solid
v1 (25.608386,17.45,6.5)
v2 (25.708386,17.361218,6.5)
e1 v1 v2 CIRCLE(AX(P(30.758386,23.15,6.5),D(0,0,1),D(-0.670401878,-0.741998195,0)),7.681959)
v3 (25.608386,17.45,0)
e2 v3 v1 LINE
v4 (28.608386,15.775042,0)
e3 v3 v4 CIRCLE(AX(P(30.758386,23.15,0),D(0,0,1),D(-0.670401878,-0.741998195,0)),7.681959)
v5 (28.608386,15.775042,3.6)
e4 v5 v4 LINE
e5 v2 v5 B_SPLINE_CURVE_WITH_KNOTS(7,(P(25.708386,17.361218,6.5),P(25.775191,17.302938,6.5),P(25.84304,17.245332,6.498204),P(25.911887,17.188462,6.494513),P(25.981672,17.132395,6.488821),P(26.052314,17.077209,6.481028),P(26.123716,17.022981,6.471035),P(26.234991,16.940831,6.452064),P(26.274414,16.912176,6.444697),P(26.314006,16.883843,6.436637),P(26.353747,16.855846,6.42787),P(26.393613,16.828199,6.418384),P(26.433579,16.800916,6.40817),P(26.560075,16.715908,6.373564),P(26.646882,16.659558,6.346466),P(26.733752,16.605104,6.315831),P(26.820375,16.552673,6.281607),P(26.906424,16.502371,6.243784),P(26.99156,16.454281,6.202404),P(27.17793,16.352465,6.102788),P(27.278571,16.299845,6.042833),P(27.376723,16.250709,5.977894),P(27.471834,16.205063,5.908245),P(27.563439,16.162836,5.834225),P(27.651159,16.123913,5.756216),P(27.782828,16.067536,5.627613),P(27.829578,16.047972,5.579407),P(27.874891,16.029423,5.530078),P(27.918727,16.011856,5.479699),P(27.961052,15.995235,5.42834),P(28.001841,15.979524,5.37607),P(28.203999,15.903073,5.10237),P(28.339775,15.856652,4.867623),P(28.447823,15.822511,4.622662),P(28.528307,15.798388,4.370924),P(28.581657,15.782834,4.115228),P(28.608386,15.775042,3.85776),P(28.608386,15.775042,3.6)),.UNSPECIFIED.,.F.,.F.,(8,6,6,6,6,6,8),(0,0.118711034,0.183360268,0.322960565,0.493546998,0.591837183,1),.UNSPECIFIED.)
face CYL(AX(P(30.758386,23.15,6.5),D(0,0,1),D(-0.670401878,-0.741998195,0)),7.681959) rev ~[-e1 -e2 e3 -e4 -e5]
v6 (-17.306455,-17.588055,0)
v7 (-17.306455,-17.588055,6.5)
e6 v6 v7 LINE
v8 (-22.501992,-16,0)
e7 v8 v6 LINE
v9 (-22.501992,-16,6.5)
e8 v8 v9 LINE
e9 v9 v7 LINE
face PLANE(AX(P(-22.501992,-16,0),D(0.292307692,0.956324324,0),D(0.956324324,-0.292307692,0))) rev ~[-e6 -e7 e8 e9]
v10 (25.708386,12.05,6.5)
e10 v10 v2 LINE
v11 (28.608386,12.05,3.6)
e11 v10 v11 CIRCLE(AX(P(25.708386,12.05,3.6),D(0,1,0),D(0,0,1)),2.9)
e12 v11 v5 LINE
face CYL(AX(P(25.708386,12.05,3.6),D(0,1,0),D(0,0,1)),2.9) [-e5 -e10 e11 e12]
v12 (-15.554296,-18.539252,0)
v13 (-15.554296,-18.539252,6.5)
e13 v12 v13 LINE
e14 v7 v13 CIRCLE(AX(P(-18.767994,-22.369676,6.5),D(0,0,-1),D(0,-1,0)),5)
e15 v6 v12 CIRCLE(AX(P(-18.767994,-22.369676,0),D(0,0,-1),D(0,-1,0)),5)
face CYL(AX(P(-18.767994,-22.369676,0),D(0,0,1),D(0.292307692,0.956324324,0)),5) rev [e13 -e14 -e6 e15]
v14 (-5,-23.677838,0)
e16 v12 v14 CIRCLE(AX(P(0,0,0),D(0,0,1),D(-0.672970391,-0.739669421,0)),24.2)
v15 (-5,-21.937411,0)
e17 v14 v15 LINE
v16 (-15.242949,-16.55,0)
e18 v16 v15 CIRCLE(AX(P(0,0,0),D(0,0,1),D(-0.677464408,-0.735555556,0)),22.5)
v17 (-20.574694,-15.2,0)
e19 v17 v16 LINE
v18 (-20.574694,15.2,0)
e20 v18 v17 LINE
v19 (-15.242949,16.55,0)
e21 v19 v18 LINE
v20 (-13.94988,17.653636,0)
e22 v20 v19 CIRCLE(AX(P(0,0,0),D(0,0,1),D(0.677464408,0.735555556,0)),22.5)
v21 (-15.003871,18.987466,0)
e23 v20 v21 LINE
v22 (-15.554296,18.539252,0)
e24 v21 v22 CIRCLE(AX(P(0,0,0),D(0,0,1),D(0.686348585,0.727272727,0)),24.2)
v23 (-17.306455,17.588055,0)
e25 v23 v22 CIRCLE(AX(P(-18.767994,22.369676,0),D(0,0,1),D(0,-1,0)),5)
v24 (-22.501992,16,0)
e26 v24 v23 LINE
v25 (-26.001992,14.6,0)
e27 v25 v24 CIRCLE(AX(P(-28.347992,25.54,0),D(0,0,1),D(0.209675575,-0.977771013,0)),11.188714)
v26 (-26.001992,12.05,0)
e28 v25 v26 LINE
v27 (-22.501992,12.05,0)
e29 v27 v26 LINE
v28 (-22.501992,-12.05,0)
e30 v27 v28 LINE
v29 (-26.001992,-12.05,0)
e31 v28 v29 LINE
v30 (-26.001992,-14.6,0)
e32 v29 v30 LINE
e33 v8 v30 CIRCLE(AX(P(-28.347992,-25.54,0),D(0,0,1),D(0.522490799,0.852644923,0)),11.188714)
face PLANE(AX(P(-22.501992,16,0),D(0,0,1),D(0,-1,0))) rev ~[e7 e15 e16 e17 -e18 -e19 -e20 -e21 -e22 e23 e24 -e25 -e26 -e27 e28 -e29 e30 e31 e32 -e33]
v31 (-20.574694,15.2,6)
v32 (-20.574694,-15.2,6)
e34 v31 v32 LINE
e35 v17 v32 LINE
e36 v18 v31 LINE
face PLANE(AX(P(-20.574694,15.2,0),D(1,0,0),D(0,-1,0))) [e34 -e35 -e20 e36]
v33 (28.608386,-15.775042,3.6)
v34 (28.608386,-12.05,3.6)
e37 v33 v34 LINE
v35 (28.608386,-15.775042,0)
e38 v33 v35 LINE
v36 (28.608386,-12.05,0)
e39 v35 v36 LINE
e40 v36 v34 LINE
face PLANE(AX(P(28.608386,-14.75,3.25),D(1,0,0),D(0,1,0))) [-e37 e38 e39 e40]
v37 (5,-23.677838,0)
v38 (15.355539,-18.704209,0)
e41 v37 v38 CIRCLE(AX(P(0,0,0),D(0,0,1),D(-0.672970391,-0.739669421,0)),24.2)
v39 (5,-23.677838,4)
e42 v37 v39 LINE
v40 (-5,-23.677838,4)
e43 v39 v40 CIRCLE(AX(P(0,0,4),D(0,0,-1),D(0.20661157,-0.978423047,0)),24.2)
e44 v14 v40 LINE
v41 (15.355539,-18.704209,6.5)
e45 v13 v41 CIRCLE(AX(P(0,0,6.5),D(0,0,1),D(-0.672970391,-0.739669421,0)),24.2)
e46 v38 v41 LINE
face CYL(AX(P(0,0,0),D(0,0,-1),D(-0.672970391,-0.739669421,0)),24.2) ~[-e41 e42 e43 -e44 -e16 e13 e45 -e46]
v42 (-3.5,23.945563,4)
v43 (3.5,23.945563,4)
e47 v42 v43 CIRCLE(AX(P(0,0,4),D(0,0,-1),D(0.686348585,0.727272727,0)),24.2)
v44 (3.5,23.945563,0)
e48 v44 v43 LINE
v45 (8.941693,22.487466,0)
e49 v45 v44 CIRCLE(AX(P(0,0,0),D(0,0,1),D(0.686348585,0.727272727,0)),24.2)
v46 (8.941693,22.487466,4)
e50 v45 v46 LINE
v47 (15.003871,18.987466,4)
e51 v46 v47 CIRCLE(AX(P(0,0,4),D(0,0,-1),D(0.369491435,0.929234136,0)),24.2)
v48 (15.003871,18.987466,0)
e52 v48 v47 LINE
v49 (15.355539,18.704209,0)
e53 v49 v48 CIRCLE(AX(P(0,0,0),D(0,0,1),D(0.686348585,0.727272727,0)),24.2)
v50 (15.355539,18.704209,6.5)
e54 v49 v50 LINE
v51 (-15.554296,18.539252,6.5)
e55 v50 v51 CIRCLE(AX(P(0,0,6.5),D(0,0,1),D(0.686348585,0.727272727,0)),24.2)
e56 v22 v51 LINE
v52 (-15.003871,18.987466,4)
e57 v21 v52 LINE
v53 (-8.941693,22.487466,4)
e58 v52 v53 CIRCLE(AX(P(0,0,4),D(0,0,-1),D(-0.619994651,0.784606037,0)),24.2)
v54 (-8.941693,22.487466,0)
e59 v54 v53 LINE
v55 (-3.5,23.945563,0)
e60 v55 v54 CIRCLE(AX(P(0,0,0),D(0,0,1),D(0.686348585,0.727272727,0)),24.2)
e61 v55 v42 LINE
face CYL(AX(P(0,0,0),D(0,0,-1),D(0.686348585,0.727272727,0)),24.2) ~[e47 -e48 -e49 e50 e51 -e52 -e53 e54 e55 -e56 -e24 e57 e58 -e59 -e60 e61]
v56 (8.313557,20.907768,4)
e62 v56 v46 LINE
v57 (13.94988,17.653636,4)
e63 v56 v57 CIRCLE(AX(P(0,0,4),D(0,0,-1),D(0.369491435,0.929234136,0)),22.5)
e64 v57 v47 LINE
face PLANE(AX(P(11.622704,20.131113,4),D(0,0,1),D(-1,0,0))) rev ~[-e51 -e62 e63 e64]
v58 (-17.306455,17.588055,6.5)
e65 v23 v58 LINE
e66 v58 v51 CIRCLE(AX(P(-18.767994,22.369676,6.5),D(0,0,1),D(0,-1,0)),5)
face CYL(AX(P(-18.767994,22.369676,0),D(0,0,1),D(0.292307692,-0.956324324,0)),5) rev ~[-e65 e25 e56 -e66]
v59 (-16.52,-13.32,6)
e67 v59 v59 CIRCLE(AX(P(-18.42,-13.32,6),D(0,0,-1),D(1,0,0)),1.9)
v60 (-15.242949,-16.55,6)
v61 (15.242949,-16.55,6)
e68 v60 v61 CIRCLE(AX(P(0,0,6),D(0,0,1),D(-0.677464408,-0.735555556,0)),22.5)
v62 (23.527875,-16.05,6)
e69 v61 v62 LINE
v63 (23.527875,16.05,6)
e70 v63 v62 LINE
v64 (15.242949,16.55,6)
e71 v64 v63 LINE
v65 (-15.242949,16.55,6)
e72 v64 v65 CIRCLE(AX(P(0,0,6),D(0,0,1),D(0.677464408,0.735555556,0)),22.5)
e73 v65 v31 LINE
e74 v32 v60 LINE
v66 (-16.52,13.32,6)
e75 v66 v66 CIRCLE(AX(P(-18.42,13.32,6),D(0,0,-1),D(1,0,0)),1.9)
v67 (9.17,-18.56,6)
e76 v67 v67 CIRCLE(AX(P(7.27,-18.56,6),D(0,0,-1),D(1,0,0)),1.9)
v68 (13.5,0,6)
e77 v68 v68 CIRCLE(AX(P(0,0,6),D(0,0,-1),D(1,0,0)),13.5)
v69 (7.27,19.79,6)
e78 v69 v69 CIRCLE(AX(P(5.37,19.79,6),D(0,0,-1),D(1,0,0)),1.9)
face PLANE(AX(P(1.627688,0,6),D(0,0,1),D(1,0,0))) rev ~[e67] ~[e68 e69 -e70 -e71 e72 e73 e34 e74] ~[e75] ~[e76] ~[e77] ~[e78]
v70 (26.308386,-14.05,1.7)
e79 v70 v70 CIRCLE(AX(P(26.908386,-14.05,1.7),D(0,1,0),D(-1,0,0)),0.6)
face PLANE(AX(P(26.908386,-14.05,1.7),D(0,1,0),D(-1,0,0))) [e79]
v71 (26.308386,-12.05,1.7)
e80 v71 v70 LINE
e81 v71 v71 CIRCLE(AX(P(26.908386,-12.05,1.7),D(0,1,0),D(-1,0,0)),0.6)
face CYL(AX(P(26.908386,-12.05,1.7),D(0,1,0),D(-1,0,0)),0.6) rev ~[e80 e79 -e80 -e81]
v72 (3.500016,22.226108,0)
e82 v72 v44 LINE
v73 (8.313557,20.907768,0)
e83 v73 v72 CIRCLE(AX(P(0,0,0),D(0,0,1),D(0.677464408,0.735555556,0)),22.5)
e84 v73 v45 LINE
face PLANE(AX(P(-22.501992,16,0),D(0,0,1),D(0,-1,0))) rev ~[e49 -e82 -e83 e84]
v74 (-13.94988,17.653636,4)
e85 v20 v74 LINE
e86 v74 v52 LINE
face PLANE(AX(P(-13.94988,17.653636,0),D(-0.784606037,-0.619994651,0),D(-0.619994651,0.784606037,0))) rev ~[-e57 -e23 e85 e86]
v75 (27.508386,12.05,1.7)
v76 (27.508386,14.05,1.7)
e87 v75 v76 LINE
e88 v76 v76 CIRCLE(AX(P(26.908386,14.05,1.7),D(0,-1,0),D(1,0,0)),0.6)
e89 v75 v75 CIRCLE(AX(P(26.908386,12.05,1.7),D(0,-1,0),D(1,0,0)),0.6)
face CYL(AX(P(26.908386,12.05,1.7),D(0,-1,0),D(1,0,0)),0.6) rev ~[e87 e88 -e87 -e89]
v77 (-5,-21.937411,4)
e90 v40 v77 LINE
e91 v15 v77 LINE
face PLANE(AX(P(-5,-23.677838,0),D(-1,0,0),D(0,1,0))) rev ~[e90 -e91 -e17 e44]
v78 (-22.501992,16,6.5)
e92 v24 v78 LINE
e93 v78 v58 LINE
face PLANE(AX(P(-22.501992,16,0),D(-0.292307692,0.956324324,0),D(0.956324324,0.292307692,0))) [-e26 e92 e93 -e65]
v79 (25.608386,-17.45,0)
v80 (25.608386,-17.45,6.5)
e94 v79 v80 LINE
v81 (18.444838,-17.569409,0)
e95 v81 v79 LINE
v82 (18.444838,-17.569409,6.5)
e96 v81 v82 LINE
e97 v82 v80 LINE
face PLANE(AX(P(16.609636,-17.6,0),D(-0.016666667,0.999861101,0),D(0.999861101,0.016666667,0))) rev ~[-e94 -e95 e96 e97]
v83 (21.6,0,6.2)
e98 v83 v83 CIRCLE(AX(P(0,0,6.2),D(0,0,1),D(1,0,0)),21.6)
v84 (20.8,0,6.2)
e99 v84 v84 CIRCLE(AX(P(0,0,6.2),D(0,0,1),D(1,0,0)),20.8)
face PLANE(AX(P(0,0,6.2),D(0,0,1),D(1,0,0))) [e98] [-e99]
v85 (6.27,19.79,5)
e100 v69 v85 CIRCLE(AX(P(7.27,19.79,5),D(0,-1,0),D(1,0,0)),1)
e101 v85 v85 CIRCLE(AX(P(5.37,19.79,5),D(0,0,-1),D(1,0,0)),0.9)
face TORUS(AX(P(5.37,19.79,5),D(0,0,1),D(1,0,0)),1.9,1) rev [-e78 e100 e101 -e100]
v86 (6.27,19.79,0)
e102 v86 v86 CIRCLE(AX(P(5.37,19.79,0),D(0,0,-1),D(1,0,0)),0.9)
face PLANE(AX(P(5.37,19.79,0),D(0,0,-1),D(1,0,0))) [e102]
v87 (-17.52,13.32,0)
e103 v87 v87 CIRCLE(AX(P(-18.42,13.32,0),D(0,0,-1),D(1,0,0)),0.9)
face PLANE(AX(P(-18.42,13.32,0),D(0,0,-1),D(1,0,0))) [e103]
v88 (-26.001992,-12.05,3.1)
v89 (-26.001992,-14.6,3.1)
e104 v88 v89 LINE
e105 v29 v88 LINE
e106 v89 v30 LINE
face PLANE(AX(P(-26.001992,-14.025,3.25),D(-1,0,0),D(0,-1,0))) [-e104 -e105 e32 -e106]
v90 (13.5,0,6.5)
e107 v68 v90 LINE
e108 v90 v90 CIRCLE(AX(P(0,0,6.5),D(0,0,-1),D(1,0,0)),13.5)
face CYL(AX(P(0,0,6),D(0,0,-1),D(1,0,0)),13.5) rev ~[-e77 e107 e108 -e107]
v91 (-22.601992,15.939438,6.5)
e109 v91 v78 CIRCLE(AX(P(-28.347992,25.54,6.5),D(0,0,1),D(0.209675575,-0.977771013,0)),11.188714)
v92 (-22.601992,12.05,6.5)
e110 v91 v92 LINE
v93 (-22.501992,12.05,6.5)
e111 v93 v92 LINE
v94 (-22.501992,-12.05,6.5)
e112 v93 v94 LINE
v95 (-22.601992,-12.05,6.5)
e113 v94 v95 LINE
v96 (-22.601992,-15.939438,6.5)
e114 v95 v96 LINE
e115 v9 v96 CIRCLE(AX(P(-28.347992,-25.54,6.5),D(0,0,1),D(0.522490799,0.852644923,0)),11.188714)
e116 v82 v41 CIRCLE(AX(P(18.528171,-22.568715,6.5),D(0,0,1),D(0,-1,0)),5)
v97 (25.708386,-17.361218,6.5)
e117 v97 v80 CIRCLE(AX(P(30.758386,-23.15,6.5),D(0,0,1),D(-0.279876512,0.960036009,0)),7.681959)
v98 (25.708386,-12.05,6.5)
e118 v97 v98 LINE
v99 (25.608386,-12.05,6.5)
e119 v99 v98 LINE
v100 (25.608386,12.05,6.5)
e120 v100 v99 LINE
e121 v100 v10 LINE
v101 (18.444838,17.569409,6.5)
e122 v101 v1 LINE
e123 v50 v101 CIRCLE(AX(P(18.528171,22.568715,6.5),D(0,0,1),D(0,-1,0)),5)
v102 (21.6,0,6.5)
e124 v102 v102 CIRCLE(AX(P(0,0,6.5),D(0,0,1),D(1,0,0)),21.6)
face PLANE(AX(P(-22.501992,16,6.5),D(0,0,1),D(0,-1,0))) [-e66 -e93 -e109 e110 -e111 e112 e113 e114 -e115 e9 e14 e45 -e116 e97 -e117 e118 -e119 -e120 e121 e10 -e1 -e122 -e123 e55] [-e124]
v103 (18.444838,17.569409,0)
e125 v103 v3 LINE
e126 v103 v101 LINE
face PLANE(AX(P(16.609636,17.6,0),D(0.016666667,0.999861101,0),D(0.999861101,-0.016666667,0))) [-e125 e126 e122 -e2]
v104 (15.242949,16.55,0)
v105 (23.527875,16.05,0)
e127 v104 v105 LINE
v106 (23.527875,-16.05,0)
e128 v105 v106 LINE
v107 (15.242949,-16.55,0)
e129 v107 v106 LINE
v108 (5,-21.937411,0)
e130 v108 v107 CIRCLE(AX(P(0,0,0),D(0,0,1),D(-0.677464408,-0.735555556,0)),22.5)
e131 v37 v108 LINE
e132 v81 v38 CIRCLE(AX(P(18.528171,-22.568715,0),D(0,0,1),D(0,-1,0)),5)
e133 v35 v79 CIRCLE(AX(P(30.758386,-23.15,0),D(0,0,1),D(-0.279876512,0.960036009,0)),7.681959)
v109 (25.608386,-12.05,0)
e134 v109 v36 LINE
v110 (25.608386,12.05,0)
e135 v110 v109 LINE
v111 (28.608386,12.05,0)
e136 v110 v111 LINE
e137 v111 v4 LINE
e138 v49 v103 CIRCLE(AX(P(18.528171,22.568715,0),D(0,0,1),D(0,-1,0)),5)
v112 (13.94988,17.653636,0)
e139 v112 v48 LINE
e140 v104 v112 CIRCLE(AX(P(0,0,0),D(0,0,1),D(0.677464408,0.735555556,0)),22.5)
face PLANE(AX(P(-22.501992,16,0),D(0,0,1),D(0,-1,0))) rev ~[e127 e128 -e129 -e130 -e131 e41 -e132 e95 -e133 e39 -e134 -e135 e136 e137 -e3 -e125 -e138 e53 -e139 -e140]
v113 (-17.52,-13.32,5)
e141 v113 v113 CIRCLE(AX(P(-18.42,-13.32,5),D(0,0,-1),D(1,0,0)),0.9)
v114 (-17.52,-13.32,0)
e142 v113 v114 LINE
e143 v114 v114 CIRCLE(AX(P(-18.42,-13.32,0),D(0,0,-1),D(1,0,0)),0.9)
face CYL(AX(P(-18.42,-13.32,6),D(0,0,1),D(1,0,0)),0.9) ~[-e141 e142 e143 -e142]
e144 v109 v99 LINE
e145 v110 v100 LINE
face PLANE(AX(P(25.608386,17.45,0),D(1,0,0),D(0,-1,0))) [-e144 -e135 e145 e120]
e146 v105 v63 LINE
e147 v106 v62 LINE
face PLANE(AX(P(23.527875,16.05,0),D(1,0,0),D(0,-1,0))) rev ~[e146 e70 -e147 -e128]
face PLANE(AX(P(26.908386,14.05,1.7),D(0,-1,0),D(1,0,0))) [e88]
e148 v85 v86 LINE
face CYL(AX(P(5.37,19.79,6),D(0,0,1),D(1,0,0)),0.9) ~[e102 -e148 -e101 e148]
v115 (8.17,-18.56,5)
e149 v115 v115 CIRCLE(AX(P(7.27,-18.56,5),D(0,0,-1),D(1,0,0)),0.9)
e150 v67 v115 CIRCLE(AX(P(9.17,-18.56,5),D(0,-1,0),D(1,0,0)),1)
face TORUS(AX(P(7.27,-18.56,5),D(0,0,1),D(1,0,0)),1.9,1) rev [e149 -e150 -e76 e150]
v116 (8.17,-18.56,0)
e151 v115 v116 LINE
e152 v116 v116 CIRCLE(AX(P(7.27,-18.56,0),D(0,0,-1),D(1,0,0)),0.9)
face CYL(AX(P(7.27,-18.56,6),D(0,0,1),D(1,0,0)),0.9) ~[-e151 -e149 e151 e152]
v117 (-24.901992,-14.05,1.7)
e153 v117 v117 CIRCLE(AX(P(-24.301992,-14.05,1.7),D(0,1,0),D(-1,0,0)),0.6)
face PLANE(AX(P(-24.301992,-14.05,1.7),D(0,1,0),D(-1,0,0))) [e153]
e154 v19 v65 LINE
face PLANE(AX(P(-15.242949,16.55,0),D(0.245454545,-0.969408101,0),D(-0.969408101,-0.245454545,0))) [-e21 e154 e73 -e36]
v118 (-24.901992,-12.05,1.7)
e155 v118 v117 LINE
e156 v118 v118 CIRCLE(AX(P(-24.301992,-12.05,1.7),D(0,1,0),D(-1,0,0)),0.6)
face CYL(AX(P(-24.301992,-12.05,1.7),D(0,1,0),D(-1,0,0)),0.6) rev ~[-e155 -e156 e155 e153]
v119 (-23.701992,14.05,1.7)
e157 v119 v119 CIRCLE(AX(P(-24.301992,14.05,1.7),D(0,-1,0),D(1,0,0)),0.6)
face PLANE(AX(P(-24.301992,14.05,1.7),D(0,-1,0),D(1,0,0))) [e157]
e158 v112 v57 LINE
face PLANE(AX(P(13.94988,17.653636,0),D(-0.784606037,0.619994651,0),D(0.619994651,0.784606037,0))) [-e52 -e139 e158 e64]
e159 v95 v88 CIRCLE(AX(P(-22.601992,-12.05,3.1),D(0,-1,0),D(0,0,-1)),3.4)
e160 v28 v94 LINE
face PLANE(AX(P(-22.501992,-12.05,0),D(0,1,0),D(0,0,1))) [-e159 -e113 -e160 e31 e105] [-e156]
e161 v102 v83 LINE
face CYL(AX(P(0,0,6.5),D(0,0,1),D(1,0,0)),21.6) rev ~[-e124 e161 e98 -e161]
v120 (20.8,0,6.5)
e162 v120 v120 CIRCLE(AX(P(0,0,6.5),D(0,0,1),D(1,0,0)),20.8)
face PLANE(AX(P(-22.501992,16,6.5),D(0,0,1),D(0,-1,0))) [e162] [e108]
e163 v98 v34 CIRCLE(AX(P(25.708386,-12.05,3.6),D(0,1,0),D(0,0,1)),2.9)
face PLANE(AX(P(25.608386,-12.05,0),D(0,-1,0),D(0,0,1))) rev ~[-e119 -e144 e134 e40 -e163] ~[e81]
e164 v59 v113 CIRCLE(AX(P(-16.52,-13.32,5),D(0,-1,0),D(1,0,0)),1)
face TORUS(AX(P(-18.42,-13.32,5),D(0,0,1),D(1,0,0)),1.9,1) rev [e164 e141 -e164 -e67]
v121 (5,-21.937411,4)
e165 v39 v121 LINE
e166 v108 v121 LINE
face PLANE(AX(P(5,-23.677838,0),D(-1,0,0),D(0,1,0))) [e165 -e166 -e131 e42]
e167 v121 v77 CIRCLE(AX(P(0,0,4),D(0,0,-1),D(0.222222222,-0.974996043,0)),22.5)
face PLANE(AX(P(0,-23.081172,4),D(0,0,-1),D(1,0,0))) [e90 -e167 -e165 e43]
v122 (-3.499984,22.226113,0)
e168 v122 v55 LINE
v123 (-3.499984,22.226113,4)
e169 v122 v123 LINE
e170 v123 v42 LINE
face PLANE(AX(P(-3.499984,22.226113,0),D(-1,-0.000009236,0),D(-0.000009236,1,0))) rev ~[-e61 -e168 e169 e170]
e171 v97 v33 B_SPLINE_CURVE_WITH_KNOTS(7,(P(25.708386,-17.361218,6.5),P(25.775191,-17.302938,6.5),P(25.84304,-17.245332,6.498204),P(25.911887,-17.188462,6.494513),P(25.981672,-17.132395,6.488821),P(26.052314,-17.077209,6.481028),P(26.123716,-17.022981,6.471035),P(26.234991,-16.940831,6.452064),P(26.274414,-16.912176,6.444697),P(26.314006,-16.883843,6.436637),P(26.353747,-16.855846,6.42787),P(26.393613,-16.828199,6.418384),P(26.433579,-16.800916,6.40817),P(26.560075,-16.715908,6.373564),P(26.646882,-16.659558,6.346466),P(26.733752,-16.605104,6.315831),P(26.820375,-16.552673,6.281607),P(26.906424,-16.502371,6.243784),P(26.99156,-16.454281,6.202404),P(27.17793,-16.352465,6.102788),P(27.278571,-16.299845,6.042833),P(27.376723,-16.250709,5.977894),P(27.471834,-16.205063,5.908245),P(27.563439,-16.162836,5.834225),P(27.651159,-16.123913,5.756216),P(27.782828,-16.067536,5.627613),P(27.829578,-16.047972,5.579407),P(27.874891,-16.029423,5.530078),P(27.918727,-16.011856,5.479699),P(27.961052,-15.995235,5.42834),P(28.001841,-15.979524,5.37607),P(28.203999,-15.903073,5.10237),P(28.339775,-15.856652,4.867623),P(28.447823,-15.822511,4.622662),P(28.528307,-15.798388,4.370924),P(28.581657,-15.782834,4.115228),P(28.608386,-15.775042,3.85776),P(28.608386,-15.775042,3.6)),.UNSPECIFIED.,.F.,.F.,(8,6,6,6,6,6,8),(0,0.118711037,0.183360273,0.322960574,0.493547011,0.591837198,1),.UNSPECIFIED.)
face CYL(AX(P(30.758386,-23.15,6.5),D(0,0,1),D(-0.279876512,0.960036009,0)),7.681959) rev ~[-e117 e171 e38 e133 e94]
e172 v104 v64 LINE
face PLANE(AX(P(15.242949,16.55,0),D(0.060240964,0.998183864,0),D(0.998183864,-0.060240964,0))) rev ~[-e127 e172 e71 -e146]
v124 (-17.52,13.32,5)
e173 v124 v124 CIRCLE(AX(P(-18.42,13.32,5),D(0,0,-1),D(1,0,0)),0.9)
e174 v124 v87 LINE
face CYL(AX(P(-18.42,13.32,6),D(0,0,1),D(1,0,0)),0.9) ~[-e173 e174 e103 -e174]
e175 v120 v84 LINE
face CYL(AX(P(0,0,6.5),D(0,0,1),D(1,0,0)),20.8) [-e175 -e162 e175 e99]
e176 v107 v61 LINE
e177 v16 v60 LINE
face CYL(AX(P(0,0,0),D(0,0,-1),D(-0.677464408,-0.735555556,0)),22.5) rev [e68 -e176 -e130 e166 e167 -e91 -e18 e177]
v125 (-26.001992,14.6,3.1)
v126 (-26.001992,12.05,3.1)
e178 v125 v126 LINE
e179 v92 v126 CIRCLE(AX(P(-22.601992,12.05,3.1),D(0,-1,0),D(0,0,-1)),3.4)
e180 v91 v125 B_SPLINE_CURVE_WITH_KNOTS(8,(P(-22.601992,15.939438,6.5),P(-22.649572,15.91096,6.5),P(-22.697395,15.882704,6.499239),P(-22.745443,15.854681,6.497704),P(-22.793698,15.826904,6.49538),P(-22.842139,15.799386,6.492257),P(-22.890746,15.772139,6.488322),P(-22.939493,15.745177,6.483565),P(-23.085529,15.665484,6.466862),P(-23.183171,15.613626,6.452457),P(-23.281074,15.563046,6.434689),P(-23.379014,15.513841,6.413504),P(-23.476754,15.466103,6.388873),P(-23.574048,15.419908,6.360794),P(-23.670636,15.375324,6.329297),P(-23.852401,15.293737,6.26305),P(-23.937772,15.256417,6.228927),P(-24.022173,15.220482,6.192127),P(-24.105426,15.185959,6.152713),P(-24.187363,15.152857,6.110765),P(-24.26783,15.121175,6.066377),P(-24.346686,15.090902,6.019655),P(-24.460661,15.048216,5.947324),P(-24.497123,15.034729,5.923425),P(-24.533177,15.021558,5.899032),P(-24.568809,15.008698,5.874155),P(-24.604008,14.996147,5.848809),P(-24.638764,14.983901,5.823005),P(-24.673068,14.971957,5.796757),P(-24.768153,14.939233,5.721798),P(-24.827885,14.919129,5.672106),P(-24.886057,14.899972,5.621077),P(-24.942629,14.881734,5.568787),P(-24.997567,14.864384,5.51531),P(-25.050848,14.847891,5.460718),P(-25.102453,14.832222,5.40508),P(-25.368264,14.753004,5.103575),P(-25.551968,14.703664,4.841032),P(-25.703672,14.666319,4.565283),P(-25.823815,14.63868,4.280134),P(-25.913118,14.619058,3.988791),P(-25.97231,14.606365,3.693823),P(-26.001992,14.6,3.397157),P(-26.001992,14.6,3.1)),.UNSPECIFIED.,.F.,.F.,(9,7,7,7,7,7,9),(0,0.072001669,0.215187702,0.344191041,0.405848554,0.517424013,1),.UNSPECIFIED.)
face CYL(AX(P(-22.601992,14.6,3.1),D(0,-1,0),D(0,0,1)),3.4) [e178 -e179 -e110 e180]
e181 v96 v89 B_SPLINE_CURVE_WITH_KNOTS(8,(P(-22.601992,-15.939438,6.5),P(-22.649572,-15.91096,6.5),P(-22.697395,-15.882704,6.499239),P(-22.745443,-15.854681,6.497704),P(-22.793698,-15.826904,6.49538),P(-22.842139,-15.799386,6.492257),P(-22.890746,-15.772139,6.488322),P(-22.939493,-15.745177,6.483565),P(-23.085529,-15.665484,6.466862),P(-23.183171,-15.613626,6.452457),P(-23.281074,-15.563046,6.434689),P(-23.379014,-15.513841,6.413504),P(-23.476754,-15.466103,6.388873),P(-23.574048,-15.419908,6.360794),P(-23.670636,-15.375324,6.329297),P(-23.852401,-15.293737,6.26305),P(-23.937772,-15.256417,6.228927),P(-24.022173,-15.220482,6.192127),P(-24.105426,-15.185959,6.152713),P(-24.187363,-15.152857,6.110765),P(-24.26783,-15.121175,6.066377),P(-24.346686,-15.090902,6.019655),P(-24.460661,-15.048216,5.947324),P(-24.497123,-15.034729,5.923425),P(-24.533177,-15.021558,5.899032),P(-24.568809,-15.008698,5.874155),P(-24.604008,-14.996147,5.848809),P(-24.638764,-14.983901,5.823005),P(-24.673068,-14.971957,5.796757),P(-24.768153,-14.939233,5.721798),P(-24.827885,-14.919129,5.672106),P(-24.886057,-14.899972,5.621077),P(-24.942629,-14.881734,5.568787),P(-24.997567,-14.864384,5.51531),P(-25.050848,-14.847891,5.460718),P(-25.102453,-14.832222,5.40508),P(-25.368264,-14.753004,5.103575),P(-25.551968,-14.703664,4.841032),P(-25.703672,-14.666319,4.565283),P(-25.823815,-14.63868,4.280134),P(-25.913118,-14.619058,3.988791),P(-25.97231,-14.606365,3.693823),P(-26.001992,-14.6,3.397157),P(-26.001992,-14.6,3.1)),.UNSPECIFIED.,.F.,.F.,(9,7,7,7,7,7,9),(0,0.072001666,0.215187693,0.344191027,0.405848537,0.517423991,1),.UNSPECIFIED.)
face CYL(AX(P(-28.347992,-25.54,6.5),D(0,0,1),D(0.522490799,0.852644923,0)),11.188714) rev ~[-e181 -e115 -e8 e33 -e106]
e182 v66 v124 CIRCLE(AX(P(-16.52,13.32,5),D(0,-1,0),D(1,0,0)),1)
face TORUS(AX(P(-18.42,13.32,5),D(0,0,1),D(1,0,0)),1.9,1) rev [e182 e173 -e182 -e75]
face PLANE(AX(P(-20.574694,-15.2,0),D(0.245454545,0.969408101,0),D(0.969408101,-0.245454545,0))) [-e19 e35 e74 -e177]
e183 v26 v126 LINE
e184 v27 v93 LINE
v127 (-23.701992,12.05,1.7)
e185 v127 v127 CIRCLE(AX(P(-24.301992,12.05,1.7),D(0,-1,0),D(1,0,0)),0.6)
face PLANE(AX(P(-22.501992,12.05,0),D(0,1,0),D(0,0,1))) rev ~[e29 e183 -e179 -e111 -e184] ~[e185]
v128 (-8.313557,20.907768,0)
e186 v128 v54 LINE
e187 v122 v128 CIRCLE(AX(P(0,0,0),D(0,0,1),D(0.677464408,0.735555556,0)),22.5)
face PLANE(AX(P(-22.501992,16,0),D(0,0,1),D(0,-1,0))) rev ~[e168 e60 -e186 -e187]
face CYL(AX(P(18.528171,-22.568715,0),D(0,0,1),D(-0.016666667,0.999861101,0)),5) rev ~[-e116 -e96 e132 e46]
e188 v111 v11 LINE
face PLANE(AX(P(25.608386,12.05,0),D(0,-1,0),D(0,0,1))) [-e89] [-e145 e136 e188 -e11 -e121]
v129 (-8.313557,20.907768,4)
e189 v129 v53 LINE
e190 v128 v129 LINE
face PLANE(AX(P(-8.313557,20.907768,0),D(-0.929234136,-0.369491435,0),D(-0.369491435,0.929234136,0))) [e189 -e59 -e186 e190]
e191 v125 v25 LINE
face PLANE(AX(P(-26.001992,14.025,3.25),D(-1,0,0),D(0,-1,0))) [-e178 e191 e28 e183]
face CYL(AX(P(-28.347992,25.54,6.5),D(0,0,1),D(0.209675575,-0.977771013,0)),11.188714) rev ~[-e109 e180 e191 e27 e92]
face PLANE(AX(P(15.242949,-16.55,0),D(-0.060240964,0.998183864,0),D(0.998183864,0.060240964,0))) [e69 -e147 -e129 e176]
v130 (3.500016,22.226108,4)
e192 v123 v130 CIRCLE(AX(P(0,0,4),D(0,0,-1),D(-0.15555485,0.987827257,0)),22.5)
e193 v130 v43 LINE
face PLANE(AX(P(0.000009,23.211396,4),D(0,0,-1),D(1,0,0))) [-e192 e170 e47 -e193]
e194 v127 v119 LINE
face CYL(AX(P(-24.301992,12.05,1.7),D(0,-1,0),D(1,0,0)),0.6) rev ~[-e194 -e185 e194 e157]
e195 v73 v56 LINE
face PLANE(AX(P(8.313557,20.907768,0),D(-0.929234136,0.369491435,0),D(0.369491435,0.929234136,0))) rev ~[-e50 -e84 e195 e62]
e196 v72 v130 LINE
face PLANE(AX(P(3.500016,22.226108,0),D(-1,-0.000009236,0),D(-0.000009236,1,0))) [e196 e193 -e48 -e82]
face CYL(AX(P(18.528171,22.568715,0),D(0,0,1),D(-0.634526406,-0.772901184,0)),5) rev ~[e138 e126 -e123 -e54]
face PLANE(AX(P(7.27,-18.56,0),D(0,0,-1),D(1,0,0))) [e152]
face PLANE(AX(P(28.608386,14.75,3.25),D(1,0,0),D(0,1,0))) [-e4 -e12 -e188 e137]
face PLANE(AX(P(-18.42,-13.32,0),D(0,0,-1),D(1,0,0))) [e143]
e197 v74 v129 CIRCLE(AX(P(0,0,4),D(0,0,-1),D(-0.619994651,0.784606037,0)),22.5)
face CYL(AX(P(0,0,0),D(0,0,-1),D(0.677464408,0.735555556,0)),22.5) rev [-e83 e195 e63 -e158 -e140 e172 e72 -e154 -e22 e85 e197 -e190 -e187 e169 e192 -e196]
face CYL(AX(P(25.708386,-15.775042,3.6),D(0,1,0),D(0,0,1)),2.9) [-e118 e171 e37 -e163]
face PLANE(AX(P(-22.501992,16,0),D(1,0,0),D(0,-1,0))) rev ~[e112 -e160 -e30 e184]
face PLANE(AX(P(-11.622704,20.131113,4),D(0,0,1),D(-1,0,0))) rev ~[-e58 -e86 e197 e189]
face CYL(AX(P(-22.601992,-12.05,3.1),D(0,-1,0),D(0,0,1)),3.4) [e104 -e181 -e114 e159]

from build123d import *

# Parameters (mm, degrees)
PAD_DEPTH       = 6.5
POCKET_DEPTH    = 6
SKETCH002_R     = 13.5
POCKET001_DEPTH = 1
SKETCH003_W     = 5.4
SKETCH003_H     = 6.5
PAD001_DEPTH    = 3
POCKET002_DEPTH = 10
SKETCH008_R     = 0.6
POCKET003_DEPTH = 2
SKETCH009_R     = 0.6
POCKET004_DEPTH = 2
FILLET_R        = 2.9
FILLET001_R     = 2.9
FILLET002_R     = 5
FILLET003_R     = 5
FILLET004_R     = 5
FILLET005_R     = 5
SKETCH010_W     = 3.95
SKETCH010_H     = 6.5
PAD002_DEPTH    = 3.5
POCKET005_DEPTH = 10
SKETCH012_R     = 0.6
POCKET006_DEPTH = 2
SKETCH013_R     = 0.6
POCKET007_DEPTH = 2
FILLET006_R     = 3.4
FILLET007_R     = 3.4
SKETCH014_R     = 21.6
SKETCH014_R_2   = 20.8
POCKET008_DEPTH = 0.3
SKETCH015_R     = 0.9
PAD003_DEPTH    = 6
FILLET008_R     = 1
POCKET009_DEPTH = 4
POCKET010_DEPTH = 4


with BuildPart() as part:
    # Sketch → Pad (new body)
    with BuildSketch(Plane.XY):
        with BuildLine():
            Line((-22.5019915649, 16), (-22.5019915649, -16))
            Line((-22.5019915649, -16), (-16.2858834578, -17.9))
            ThreePointArc((-16.2858834578, -17.9), (0.2206895736, -24.1989937004), (16.6096357576, -17.6))
            Line((16.6096357576, -17.6), (25.6083856708, -17.45))
            Line((25.6083856708, 17.45), (25.6083856708, -17.45))
            Line((16.6096357576, 17.6), (25.6083856708, 17.45))
            ThreePointArc((16.6096357576, 17.6), (0.2206895736, 24.1989937004), (-16.2858834578, 17.9))
            Line((-22.5019915649, 16), (-16.2858834578, 17.9))
        make_face()
    extrude(amount=PAD_DEPTH)

    # Sketch001 → Pocket (cut)
    with BuildSketch(Plane.XY):
        with BuildLine():
            Line((-15.2429491897, 16.55), (-20.5746937447, 15.2))
            Line((-20.5746937447, 15.2), (-20.5746937447, -15.2))
            Line((-20.5746937447, -15.2), (-15.2429491897, -16.55))
            ThreePointArc((-15.2429491897, -16.55), (0, -22.5), (15.2429491897, -16.55))
            Line((15.2429491897, -16.55), (23.5278752606, -16.05))
            Line((23.5278752606, 16.05), (23.5278752606, -16.05))
            Line((15.2429491897, 16.55), (23.5278752606, 16.05))
            ThreePointArc((15.2429491897, 16.55), (0, 22.5), (-15.2429491897, 16.55))
        make_face()
    extrude(amount=POCKET_DEPTH, mode=Mode.SUBTRACT)

    # Sketch002 (on Face19 of Pocket) → Pocket001 (cut)
    with BuildSketch(Plane(origin=(0, 0, 6), x_dir=(1, 0, 0), z_dir=(0, 0, -1))):
        Circle(SKETCH002_R)
    extrude(amount=-POCKET001_DEPTH, mode=Mode.SUBTRACT)

    # Sketch003 (on Face6 of Pocket001) → Pad001 (join)
    with BuildSketch(Plane.YZ.offset(25.6083856708)):
        with Locations((-14.75, 3.25)):
            Rectangle(SKETCH003_W, SKETCH003_H)
        with Locations((14.75, 3.25)):
            Rectangle(SKETCH003_W, SKETCH003_H)
    extrude(amount=PAD001_DEPTH)

    # Sketch006 → Pocket002 (cut)
    with BuildSketch(Plane.XY.offset(6.5)):
        with BuildLine():
            ThreePointArc((25.6083856708, 17.45), (27.0135397777, 16.4426436477), (28.6083856708, 15.775042373))
            Line((28.6083856708, 17.45), (28.6083856708, 15.775042373))
            Line((28.6083856708, 17.45), (25.6083856708, 17.45))
        make_face()
        with BuildLine():
            ThreePointArc((28.6083856708, -15.775042373), (27.0135397777, -16.4426436477), (25.6083856708, -17.45))
            Line((28.6083856708, -17.45), (25.6083856708, -17.45))
            Line((28.6083856708, -15.775042373), (28.6083856708, -17.45))
        make_face()
    extrude(amount=-POCKET002_DEPTH, mode=Mode.SUBTRACT)

    # Sketch008 (on Face27 of Pocket002) → Pocket003 (cut)
    with BuildSketch(Plane(origin=(0, -12.05, 0), x_dir=(-1, 0, 0), z_dir=(0, 1, 0))):
        with Locations((-26.9083856708, 1.7)):
            Circle(SKETCH008_R)
    extrude(amount=-POCKET003_DEPTH, mode=Mode.SUBTRACT)

    # Sketch009 (on Face26 of Pocket003) → Pocket004 (cut)
    with BuildSketch(Plane.XZ.offset(-12.05)):
        with Locations((26.9083856708, 1.7)):
            Circle(SKETCH009_R)
    extrude(amount=-POCKET004_DEPTH, mode=Mode.SUBTRACT)

    # Fillet
    fillet_edges = [part.edges().sort_by_distance(p)[0] for p in [
        (28.608386, -13.912521, 6.5),
    ]]
    fillet(fillet_edges, radius=FILLET_R)

    # Fillet001
    fillet001_edges = [part.edges().sort_by_distance(p)[0] for p in [
        (28.608386, 13.912521, 6.5),
    ]]
    fillet(fillet001_edges, radius=FILLET001_R)

    # Fillet002
    fillet002_edges = [part.edges().sort_by_distance(p)[0] for p in [
        (16.609636, -17.6, 3.25),
    ]]
    fillet(fillet002_edges, radius=FILLET002_R)

    # Fillet003
    fillet003_edges = [part.edges().sort_by_distance(p)[0] for p in [
        (16.609636, 17.6, 3.25),
    ]]
    fillet(fillet003_edges, radius=FILLET003_R)

    # Fillet004
    fillet004_edges = [part.edges().sort_by_distance(p)[0] for p in [
        (-16.285883, -17.9, 3.25),
    ]]
    fillet(fillet004_edges, radius=FILLET004_R)

    # Fillet005
    fillet005_edges = [part.edges().sort_by_distance(p)[0] for p in [
        (-16.285883, 17.9, 3.25),
    ]]
    fillet(fillet005_edges, radius=FILLET005_R)

    # Sketch010 (on Face4 of Fillet005) → Pad002 (join)
    with BuildSketch(Plane(origin=(-22.5019915649, 0, 0), x_dir=(0, -1, 0), z_dir=(-1, 0, 0))):
        with Locations((-14.025, 3.25)):
            Rectangle(SKETCH010_W, SKETCH010_H)
        with Locations((14.025, 3.25)):
            Rectangle(SKETCH010_W, SKETCH010_H)
    extrude(amount=PAD002_DEPTH)

    # Sketch011 (on Face6 of Pad002) → Pocket005 (cut)
    with BuildSketch(Plane.XY.offset(6.5)):
        with BuildLine():
            ThreePointArc((-26.0019915649, 14.6), (-24.1926075875, 15.1515400564), (-22.5019915649, 16))
            Line((-22.5019915649, 16), (-26.0019915649, 16))
            Line((-26.0019915649, 16), (-26.0019915649, 14.6))
        make_face()
        with BuildLine():
            ThreePointArc((-22.5019915649, -16), (-24.1926075875, -15.1515400564), (-26.0019915649, -14.6))
            Line((-26.0019915649, -14.6), (-26.0019915649, -16))
            Line((-26.0019915649, -16), (-22.5019915649, -16))
        make_face()
    extrude(amount=-POCKET005_DEPTH, mode=Mode.SUBTRACT)

    # Sketch012 (on Face23 of Pocket005) → Pocket006 (cut)
    with BuildSketch(Plane(origin=(0, -12.05, 0), x_dir=(-1, 0, 0), z_dir=(0, 1, 0))):
        with Locations((24.3019915649, 1.7)):
            Circle(SKETCH012_R)
    extrude(amount=-POCKET006_DEPTH, mode=Mode.SUBTRACT)

    # Sketch013 (on Face21 of Pocket006) → Pocket007 (cut)
    with BuildSketch(Plane.XZ.offset(-12.05)):
        with Locations((-24.3019915649, 1.7)):
            Circle(SKETCH013_R)
    extrude(amount=-POCKET007_DEPTH, mode=Mode.SUBTRACT)

    # Fillet006
    fillet006_edges = [part.edges().sort_by_distance(p)[0] for p in [
        (-26.001992, 13.325, 6.5),
    ]]
    fillet(fillet006_edges, radius=FILLET006_R)

    # Fillet007
    fillet007_edges = [part.edges().sort_by_distance(p)[0] for p in [
        (-26.001992, -13.325, 6.5),
    ]]
    fillet(fillet007_edges, radius=FILLET007_R)

    # Sketch014 (on Face4 of Fillet007) → Pocket008 (cut)
    with BuildSketch(Plane.XY.offset(6.5)):
        Circle(SKETCH014_R)
        Circle(SKETCH014_R_2, mode=Mode.SUBTRACT)
    extrude(amount=-POCKET008_DEPTH, mode=Mode.SUBTRACT)

    # Sketch015 (on Face55 of Pocket008) → Pad003 (join)
    with BuildSketch(Plane(origin=(0, 0, 6), x_dir=(1, 0, 0), z_dir=(0, 0, -1))):
        with Locations((-18.42, 13.32)):
            Circle(SKETCH015_R)
        with Locations((-18.42, -13.32)):
            Circle(SKETCH015_R)
        with Locations((7.27, 18.56)):
            Circle(SKETCH015_R)
        with Locations((5.37, -19.79)):
            Circle(SKETCH015_R)
    extrude(amount=PAD003_DEPTH)

    # Fillet008
    fillet008_edges = [part.edges().sort_by_distance(p)[0] for p in [
        (-19.32, -13.32, 6),
        (6.37, -18.56, 6),
        (-19.32, 13.32, 6),
        (4.47, 19.79, 6),
    ]]
    fillet(fillet008_edges, radius=FILLET008_R)

    # Sketch016 (on Face16 of Fillet008) → Pocket009 (cut)
    with BuildSketch(Plane(origin=(0, 0, 0), x_dir=(1, 0, 0), z_dir=(0, 0, -1))):
        with BuildLine():
            Line((-5, 23.6778377391), (-5, 21.9374109685))
            ThreePointArc((5, 21.9374109685), (0, 22.5), (-5, 21.9374109685))
            Line((5, 23.6778377391), (5, 21.9374109685))
            ThreePointArc((5, 23.6778377391), (0, 24.2), (-5, 23.6778377391))
        make_face()
    extrude(amount=-POCKET009_DEPTH, mode=Mode.SUBTRACT)

    # Sketch017 (on Face16 of Pocket009) → Pocket010 (cut)
    with BuildSketch(Plane(origin=(0, 0, 0), x_dir=(1, 0, 0), z_dir=(0, 0, -1))):
        with BuildLine():
            Line((-3.499984119, -22.2261132717), (-3.5, -23.9455632634))
            ThreePointArc((-3.5, -23.9455632634), (0, -24.2000019575), (3.5, -23.9455632634))
            Line((3.5000158811, -22.2261082701), (3.5, -23.9455632634))
            ThreePointArc((-3.499984119, -22.2261132717), (1.60767e-05, -22.5), (3.5000158811, -22.2261082701))
        make_face()
        with BuildLine():
            ThreePointArc((-13.9498796389, -17.6536358312), (-11.25, -19.4855715851), (-8.3135572795, -20.9077680626))
            Line((-8.3135572795, -20.9077680626), (-8.9416927184, -22.487466094))
            ThreePointArc((-15.0038705449, -18.987466094), (-12.1, -20.9578147716), (-8.9416927184, -22.487466094))
            Line((-13.9498796389, -17.6536358312), (-15.0038705449, -18.987466094))
        make_face()
        with BuildLine():
            ThreePointArc((8.3135572795, -20.9077680626), (11.25, -19.4855715851), (13.9498796389, -17.6536358312))
            Line((13.9498796389, -17.6536358312), (15.0038705449, -18.987466094))
            ThreePointArc((8.9416927184, -22.487466094), (12.1, -20.9578147716), (15.0038705449, -18.987466094))
            Line((8.3135572795, -20.9077680626), (8.9416927184, -22.487466094))
        make_face()
    extrude(amount=-POCKET010_DEPTH, mode=Mode.SUBTRACT)


solid = part.part
